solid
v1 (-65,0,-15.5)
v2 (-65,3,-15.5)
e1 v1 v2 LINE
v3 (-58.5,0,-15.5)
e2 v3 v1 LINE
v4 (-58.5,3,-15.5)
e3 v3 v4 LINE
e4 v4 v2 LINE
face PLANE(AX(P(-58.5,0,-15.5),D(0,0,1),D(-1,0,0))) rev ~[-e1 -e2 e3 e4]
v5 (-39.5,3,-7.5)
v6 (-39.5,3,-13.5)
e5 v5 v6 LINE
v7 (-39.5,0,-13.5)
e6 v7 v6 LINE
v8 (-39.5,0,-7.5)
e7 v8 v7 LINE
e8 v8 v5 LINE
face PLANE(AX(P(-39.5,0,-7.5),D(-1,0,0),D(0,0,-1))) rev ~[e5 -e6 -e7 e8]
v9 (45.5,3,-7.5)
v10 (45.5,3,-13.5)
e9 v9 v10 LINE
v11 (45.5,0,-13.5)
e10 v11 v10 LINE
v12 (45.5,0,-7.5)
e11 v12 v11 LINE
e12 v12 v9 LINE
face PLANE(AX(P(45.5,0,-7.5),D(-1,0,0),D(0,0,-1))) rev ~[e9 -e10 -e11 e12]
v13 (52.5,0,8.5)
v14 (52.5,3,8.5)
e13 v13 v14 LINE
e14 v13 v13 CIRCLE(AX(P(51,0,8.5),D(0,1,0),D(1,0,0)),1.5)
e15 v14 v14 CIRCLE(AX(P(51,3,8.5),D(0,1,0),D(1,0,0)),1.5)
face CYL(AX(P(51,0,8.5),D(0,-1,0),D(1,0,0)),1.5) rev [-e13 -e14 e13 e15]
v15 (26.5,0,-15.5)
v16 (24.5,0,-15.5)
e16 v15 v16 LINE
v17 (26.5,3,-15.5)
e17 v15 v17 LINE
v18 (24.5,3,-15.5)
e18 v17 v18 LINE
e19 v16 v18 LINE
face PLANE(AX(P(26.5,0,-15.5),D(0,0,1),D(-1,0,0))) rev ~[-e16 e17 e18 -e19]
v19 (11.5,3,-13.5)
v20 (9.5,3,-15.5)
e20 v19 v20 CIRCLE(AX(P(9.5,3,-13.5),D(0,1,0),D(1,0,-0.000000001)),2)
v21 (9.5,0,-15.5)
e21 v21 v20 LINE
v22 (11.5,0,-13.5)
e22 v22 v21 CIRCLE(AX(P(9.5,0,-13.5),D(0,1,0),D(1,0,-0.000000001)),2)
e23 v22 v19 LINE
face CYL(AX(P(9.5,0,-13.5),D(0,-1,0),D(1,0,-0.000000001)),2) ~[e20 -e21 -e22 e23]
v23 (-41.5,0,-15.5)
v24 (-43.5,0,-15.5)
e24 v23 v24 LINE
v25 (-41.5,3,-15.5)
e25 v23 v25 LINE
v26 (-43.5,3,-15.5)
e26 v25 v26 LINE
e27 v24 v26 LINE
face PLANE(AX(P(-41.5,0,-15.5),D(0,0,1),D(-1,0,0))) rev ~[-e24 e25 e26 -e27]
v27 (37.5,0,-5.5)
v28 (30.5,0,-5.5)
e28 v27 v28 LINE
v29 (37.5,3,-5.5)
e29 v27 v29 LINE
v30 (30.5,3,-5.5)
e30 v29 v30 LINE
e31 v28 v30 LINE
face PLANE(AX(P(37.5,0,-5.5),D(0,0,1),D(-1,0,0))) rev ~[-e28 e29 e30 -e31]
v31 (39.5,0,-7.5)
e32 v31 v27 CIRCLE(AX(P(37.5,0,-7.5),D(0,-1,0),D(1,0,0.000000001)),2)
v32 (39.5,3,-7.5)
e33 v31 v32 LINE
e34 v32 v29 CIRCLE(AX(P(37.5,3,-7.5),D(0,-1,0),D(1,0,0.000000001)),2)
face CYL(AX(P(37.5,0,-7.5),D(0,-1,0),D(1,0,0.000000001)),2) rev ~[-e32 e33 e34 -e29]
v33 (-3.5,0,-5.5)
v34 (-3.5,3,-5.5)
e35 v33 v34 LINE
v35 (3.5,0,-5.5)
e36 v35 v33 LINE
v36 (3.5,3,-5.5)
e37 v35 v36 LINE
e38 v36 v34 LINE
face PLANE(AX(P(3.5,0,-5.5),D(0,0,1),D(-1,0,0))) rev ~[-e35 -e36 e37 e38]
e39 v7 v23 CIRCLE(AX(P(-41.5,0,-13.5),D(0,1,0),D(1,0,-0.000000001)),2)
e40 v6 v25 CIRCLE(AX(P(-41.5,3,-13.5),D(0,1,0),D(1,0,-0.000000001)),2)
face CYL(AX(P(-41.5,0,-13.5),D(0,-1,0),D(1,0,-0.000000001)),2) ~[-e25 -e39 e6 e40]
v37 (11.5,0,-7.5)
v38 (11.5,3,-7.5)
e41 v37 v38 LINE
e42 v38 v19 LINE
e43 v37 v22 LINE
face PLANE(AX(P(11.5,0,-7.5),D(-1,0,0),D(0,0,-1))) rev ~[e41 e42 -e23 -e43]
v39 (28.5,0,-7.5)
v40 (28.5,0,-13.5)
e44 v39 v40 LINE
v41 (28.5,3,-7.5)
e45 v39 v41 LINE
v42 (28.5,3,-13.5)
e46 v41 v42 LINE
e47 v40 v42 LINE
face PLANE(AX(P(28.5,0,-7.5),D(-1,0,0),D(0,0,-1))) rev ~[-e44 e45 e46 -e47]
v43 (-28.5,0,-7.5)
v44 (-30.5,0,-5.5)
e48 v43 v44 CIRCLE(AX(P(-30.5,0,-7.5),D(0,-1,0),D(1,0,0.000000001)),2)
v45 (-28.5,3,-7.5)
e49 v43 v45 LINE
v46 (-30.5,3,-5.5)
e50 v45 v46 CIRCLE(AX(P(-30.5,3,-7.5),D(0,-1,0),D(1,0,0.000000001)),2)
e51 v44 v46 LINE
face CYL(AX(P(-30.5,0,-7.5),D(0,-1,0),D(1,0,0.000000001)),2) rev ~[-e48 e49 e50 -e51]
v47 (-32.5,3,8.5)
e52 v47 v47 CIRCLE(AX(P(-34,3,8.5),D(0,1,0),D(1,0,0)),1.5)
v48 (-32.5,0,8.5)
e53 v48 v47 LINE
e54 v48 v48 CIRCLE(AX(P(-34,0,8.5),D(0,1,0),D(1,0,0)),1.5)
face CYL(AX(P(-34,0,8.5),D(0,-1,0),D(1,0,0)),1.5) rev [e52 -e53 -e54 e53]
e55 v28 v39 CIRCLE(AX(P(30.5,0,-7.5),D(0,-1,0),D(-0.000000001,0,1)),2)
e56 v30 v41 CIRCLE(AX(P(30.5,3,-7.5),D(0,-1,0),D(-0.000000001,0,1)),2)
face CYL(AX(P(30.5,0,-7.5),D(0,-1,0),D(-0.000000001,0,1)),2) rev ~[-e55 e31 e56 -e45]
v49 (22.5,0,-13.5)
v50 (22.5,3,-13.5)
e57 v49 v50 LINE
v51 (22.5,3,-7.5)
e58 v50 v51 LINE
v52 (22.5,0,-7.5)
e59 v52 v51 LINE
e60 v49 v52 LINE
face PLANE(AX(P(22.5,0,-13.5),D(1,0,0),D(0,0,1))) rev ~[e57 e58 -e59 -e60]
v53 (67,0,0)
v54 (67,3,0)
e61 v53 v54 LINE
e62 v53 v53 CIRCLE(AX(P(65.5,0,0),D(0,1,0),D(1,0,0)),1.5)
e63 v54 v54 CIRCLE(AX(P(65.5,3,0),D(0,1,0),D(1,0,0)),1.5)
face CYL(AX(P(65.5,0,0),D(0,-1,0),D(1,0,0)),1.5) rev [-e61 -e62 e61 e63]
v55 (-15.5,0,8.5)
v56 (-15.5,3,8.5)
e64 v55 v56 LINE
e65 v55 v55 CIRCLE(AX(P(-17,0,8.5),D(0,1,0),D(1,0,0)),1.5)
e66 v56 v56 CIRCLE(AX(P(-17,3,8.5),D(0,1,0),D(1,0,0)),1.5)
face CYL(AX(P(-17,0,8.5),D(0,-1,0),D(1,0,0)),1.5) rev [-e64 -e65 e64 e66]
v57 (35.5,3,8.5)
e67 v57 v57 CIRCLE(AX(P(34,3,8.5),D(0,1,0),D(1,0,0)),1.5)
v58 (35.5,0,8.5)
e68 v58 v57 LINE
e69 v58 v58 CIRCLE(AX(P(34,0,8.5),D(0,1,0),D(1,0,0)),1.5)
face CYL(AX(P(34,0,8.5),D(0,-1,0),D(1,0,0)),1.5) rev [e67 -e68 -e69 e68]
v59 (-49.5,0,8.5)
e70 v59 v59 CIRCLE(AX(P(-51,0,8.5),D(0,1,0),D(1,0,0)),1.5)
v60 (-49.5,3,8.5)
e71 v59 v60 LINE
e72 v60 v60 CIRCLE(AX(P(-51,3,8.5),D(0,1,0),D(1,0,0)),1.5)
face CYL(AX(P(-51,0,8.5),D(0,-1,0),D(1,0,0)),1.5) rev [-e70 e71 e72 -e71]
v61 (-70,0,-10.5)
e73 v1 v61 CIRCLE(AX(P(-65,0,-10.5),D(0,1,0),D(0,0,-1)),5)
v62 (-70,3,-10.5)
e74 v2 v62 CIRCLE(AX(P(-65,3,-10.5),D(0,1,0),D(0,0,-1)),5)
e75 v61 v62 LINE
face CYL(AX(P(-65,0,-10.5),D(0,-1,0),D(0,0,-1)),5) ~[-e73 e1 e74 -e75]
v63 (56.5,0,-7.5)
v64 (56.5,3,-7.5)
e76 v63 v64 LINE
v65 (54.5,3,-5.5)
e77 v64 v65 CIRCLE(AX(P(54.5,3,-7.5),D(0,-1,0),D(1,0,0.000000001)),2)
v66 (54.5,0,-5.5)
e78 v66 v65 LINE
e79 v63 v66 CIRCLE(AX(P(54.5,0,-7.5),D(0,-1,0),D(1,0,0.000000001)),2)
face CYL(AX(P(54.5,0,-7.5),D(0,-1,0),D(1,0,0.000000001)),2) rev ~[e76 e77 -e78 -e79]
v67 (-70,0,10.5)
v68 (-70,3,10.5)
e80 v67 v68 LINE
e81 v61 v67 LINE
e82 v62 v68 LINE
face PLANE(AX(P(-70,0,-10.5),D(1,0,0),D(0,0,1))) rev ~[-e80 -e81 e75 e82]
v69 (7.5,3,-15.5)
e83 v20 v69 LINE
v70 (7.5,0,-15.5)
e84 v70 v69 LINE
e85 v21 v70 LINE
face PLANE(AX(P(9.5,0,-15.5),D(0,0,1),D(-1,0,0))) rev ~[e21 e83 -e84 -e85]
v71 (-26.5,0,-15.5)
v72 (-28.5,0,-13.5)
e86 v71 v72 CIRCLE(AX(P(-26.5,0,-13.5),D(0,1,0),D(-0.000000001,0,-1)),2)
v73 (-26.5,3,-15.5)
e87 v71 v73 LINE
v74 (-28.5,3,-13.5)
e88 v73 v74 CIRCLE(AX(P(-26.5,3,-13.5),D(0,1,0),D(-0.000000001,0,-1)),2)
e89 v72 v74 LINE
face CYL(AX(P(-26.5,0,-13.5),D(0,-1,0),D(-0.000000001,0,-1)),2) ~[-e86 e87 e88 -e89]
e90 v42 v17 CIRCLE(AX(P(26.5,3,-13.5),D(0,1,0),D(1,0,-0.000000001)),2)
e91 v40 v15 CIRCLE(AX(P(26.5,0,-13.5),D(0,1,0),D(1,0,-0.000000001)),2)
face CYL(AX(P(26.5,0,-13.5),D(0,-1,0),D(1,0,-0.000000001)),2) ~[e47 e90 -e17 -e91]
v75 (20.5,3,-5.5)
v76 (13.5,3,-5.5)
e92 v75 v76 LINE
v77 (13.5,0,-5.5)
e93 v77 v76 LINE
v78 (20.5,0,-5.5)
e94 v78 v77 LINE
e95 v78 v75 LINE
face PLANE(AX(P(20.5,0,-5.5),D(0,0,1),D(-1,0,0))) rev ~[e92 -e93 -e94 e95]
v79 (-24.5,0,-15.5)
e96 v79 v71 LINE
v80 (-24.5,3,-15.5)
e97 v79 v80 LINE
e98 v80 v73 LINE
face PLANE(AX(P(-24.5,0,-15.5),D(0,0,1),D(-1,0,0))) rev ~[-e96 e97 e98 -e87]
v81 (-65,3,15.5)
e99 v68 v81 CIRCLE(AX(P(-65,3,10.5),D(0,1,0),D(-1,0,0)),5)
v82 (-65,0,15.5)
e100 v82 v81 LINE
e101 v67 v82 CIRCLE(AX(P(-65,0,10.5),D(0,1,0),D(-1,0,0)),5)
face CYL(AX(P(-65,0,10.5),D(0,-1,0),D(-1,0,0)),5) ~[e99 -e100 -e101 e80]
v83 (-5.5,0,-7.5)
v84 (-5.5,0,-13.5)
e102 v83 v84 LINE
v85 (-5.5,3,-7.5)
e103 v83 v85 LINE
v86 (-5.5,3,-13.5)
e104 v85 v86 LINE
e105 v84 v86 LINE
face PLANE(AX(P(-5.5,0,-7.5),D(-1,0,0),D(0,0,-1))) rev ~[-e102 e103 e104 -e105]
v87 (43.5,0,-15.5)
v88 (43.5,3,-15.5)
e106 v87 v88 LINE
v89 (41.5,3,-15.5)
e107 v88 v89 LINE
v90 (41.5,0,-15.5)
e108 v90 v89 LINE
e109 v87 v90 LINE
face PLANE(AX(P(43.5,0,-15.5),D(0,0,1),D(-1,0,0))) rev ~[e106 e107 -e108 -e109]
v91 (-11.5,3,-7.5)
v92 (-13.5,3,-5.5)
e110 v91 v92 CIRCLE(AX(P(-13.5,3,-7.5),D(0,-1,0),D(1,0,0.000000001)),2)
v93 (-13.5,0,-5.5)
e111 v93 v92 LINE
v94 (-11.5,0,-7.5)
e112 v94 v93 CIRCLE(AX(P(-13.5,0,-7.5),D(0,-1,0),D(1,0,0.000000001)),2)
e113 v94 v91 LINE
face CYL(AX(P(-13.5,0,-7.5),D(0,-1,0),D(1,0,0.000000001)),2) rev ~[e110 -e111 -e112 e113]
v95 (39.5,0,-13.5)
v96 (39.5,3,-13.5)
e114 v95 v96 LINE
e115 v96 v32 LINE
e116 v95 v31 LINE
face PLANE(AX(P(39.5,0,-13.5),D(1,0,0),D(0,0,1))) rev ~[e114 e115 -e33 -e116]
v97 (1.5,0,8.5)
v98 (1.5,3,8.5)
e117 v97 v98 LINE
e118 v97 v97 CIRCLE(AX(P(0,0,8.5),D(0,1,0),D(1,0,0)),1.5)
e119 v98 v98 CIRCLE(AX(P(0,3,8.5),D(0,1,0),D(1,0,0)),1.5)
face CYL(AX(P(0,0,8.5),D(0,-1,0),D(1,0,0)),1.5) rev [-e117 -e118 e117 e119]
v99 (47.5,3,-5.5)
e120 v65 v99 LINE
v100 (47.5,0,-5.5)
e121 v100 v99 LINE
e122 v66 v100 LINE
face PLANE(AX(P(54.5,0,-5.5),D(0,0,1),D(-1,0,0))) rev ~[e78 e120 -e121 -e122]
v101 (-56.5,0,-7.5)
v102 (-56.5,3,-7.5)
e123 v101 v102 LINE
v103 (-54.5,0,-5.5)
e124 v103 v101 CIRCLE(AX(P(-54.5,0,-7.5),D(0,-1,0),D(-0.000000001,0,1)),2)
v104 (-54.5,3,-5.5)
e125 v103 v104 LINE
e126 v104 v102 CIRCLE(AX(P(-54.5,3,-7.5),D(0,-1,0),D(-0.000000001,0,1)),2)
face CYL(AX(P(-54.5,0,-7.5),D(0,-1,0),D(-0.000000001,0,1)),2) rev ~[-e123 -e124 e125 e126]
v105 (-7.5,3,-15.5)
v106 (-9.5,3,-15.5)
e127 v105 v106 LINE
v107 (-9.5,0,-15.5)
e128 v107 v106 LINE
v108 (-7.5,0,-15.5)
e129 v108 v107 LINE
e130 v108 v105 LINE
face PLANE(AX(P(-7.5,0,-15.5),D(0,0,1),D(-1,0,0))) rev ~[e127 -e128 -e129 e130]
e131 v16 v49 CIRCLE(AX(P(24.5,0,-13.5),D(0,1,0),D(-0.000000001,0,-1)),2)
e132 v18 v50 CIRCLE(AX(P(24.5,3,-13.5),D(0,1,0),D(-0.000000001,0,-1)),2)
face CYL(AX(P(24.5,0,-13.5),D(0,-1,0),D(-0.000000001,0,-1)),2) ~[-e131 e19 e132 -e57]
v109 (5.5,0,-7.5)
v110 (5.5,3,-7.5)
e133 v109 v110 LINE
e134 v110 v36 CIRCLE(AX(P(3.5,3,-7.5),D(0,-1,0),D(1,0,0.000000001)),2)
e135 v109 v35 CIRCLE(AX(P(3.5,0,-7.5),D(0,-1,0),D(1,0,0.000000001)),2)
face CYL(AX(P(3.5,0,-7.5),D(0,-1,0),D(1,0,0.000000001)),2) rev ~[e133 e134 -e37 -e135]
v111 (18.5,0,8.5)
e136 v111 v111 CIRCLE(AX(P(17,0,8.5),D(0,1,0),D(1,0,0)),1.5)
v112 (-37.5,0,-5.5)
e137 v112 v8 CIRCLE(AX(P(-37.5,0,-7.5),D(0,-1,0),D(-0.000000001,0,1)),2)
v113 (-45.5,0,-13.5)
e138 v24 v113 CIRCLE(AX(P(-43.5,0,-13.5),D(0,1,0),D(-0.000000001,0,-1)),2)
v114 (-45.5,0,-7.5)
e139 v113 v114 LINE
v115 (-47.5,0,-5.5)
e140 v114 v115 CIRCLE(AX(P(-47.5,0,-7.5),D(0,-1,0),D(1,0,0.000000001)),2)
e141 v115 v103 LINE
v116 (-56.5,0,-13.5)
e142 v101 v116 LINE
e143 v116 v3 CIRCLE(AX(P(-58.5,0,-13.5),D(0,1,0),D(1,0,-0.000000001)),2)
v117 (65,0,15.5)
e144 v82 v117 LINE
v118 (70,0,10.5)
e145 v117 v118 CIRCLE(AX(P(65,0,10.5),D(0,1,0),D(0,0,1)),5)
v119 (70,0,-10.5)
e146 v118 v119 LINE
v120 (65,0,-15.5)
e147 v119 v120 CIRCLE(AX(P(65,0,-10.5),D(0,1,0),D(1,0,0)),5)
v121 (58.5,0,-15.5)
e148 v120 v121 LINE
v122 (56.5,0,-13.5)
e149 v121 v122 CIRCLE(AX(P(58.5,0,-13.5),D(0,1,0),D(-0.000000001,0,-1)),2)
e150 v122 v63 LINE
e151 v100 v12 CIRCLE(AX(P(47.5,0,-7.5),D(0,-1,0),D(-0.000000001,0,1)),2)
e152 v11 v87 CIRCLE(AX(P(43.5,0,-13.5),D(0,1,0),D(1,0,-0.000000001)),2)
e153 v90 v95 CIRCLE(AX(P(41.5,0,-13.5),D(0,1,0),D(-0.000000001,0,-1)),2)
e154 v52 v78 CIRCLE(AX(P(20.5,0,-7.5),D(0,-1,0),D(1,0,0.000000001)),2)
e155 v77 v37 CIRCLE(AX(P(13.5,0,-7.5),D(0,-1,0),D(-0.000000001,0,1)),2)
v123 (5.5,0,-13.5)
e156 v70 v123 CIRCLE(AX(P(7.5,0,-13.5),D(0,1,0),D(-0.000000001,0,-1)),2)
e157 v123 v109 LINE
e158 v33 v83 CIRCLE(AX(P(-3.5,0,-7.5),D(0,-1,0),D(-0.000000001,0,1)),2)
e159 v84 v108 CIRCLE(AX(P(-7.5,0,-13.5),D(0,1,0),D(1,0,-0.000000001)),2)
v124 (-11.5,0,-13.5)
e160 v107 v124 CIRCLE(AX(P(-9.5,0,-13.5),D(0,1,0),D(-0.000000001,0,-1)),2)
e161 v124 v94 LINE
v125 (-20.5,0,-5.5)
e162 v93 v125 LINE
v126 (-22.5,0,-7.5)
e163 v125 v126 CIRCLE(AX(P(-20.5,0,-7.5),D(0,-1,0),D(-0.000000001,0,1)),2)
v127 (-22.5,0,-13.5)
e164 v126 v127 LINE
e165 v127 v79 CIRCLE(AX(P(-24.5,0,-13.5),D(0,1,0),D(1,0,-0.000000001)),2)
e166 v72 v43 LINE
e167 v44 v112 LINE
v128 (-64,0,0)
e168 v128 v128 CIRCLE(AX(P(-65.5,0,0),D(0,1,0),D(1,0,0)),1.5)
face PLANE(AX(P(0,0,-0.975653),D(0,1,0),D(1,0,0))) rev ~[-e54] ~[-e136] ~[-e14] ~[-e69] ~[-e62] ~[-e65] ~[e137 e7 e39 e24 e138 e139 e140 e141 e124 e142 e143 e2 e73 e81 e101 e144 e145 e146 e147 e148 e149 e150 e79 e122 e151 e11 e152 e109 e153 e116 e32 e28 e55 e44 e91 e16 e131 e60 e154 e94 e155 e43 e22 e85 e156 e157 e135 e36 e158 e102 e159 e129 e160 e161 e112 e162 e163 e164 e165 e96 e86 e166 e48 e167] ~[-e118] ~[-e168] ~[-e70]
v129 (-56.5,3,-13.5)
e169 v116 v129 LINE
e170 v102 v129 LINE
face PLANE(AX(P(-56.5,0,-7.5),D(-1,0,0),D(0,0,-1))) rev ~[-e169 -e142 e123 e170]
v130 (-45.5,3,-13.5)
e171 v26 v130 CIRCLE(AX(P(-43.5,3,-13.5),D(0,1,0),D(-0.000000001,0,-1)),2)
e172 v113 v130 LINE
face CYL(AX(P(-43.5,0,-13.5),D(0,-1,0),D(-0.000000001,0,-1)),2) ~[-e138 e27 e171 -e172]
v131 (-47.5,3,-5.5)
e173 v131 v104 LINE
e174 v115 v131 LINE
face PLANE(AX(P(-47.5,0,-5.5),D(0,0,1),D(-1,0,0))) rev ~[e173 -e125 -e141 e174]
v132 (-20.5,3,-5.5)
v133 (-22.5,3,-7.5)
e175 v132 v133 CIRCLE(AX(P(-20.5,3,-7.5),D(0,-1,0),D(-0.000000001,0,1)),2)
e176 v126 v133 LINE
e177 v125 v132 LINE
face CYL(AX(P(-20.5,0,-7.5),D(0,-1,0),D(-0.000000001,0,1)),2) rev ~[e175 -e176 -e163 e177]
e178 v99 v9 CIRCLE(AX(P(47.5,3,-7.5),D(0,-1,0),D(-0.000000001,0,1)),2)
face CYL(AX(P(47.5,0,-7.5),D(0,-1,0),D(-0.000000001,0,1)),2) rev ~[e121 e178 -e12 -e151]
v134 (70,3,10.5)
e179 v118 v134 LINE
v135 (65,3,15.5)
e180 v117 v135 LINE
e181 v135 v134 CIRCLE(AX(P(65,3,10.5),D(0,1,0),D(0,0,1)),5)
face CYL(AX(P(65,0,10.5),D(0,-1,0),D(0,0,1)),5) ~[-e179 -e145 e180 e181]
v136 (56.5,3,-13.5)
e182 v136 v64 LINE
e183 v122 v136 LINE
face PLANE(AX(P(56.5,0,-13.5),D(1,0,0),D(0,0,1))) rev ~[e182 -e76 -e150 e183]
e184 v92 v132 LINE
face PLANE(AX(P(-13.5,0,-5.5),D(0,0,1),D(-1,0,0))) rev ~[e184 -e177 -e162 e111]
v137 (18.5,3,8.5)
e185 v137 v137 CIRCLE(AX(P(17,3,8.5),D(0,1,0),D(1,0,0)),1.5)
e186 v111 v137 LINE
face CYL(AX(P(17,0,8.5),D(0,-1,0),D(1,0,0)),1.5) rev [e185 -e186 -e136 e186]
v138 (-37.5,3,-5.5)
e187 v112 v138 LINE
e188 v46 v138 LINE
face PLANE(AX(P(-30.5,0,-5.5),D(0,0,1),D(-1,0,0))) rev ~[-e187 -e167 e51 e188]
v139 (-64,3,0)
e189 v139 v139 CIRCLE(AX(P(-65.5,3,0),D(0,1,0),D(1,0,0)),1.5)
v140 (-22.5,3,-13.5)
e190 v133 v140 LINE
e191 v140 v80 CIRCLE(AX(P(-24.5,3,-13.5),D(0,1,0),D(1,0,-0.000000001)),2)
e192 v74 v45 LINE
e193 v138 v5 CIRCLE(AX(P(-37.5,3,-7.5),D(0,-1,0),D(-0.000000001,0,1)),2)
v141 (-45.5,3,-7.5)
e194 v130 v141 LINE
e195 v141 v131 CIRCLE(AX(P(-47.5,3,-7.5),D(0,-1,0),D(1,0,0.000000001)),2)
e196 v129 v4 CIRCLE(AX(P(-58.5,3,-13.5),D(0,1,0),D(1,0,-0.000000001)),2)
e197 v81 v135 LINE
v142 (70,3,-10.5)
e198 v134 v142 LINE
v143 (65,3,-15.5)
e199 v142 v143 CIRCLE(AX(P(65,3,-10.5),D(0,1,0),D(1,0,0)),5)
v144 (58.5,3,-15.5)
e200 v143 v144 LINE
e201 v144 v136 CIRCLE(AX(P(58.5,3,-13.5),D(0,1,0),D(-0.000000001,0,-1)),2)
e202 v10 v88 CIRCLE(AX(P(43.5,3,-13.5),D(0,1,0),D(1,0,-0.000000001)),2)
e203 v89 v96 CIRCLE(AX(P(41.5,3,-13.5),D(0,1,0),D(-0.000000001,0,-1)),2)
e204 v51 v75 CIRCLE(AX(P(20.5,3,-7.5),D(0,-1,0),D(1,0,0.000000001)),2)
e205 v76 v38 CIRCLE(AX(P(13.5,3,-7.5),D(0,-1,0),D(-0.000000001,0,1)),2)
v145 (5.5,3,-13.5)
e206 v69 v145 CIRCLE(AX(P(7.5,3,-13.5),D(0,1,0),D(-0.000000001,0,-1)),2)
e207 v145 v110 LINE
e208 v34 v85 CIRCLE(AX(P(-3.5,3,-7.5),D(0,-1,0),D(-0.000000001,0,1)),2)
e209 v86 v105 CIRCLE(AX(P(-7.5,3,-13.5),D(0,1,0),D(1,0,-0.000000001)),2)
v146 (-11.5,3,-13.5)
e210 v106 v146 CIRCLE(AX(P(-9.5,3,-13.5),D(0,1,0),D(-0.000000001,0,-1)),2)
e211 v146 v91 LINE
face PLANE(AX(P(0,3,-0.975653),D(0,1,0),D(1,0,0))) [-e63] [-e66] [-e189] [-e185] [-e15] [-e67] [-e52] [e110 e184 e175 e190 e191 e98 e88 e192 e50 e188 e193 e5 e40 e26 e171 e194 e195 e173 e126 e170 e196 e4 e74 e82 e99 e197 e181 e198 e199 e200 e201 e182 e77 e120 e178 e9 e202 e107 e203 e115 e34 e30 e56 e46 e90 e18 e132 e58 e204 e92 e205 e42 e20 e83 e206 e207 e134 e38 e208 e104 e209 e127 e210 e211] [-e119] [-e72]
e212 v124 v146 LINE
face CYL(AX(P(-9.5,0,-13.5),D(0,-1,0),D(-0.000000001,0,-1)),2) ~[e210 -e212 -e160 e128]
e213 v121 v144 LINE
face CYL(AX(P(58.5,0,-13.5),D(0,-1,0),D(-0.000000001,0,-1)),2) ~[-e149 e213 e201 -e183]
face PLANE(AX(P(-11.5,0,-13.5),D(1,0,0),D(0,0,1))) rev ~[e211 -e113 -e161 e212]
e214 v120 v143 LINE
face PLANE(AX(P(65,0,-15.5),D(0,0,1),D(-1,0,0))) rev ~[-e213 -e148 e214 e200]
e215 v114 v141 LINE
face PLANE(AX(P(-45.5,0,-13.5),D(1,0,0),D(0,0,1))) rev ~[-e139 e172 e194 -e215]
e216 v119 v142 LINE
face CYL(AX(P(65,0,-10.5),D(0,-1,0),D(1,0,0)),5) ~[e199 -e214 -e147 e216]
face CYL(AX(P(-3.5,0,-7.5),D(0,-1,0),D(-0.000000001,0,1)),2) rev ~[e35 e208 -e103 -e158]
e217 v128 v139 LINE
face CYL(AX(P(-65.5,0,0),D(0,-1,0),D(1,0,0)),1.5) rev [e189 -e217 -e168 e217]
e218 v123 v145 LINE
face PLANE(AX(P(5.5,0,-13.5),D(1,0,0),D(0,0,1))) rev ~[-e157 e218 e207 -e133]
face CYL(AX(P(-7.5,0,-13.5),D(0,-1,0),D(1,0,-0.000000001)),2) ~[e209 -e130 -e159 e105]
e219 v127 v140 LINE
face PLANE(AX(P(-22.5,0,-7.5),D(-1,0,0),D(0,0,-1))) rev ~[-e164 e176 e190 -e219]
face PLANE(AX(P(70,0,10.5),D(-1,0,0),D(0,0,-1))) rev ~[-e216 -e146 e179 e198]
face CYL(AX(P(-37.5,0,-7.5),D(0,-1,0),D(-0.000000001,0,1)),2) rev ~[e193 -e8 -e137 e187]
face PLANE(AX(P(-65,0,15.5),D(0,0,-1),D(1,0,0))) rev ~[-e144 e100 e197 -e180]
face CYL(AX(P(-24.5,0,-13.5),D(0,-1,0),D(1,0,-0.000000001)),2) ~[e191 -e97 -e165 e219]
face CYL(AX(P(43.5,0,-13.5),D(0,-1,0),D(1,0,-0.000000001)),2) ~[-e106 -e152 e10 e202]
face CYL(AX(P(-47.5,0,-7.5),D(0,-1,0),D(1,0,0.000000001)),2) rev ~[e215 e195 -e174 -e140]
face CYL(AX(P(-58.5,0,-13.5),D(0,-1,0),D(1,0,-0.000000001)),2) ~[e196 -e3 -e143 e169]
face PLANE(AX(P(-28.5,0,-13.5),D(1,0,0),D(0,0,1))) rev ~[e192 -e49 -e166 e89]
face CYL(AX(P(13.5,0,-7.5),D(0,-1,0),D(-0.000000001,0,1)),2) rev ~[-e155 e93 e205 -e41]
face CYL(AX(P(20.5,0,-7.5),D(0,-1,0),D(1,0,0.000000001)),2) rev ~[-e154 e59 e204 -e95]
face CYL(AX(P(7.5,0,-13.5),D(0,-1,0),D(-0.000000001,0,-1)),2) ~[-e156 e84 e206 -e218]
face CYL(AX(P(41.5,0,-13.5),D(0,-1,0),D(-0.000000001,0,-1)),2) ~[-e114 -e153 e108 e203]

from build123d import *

# Parameters (mm, degrees)
SKETCH1_R           = 1.5
BOSS_EXTRUDE1_DEPTH = 3


with BuildPart() as part:
    # Sketch1 → Boss-Extrude1 (new body)
    with BuildSketch(Plane(origin=(0, 0, 0), x_dir=(1, 0, 0), z_dir=(0, 1, 0))):
        with BuildLine():
            Line((65, 15.5), (58.5, 15.5))
            ThreePointArc((58.5, 15.5), (57.085786438, 14.914213562), (56.5, 13.5))
            Line((56.5, 13.5), (56.5, 7.5))
            ThreePointArc((56.5, 7.5), (55.914213562, 6.085786438), (54.5, 5.5))
            Line((54.5, 5.5), (47.5, 5.5))
            ThreePointArc((47.5, 5.5), (46.085786438, 6.085786438), (45.5, 7.5))
            Line((45.5, 7.5), (45.5, 13.5))
            ThreePointArc((45.5, 13.5), (44.914213562, 14.914213562), (43.5, 15.5))
            Line((43.5, 15.5), (41.5, 15.5))
            ThreePointArc((41.5, 15.5), (40.085786438, 14.914213562), (39.5, 13.5))
            Line((39.5, 13.5), (39.5, 7.5))
            ThreePointArc((39.5, 7.5), (38.914213562, 6.085786438), (37.5, 5.5))
            Line((37.5, 5.5), (30.5, 5.5))
            ThreePointArc((30.5, 5.5), (29.085786438, 6.085786438), (28.5, 7.5))
            Line((28.5, 7.5), (28.5, 13.5))
            ThreePointArc((28.5, 13.5), (27.914213562, 14.914213562), (26.5, 15.5))
            Line((26.5, 15.5), (24.5, 15.5))
            ThreePointArc((24.5, 15.5), (23.085786438, 14.914213562), (22.5, 13.5))
            Line((22.5, 13.5), (22.5, 7.5))
            ThreePointArc((22.5, 7.5), (21.914213562, 6.085786438), (20.5, 5.5))
            Line((20.5, 5.5), (13.5, 5.5))
            ThreePointArc((13.5, 5.5), (12.085786438, 6.085786438), (11.5, 7.5))
            Line((11.5, 7.5), (11.5, 13.5))
            ThreePointArc((11.5, 13.5), (10.914213562, 14.914213562), (9.5, 15.5))
            Line((9.5, 15.5), (7.5, 15.5))
            ThreePointArc((7.5, 15.5), (6.085786438, 14.914213562), (5.5, 13.5))
            Line((5.5, 13.5), (5.5, 7.5))
            ThreePointArc((5.5, 7.5), (4.914213562, 6.085786438), (3.5, 5.5))
            Line((3.5, 5.5), (-3.5, 5.5))
            ThreePointArc((-3.5, 5.5), (-4.914213562, 6.085786438), (-5.5, 7.5))
            Line((-5.5, 7.5), (-5.5, 13.5))
            ThreePointArc((-5.5, 13.5), (-6.085786438, 14.914213562), (-7.5, 15.5))
            Line((-7.5, 15.5), (-9.5, 15.5))
            ThreePointArc((-9.5, 15.5), (-10.914213562, 14.914213562), (-11.5, 13.5))
            Line((-11.5, 13.5), (-11.5, 7.5))
            ThreePointArc((-11.5, 7.5), (-12.085786438, 6.085786438), (-13.5, 5.5))
            Line((-13.5, 5.5), (-20.5, 5.5))
            ThreePointArc((-20.5, 5.5), (-21.914213562, 6.085786438), (-22.5, 7.5))
            Line((-22.5, 7.5), (-22.5, 13.5))
            ThreePointArc((-22.5, 13.5), (-23.085786438, 14.914213562), (-24.5, 15.5))
            Line((-24.5, 15.5), (-26.5, 15.5))
            ThreePointArc((-26.5, 15.5), (-27.914213562, 14.914213562), (-28.5, 13.5))
            Line((-28.5, 13.5), (-28.5, 7.5))
            ThreePointArc((-28.5, 7.5), (-29.085786438, 6.085786438), (-30.5, 5.5))
            Line((-30.5, 5.5), (-37.5, 5.5))
            ThreePointArc((-37.5, 5.5), (-38.914213562, 6.085786438), (-39.5, 7.5))
            Line((-39.5, 7.5), (-39.5, 13.5))
            ThreePointArc((-39.5, 13.5), (-40.085786438, 14.914213562), (-41.5, 15.5))
            Line((-41.5, 15.5), (-43.5, 15.5))
            ThreePointArc((-43.5, 15.5), (-44.914213562, 14.914213562), (-45.5, 13.5))
            Line((-45.5, 13.5), (-45.5, 7.5))
            ThreePointArc((-45.5, 7.5), (-46.085786438, 6.085786438), (-47.5, 5.5))
            Line((-47.5, 5.5), (-54.5, 5.5))
            ThreePointArc((-54.5, 5.5), (-55.914213562, 6.085786438), (-56.5, 7.5))
            Line((-56.5, 7.5), (-56.5, 13.5))
            ThreePointArc((-56.5, 13.5), (-57.085786438, 14.914213562), (-58.5, 15.5))
            Line((-58.5, 15.5), (-65, 15.5))
            ThreePointArc((-65, 15.5), (-68.535533906, 14.035533906), (-70, 10.5))
            Line((-70, 10.5), (-70, -10.5))
            ThreePointArc((-70, -10.5), (-68.535533906, -14.035533906), (-65, -15.5))
            Line((-65, -15.5), (65, -15.5))
            ThreePointArc((65, -15.5), (68.535533906, -14.035533906), (70, -10.5))
            Line((70, -10.5), (70, 10.5))
            ThreePointArc((70, 10.5), (68.535533906, 14.035533906), (65, 15.5))
        make_face()
        with Locations((-65.5, 0)):
            Circle(SKETCH1_R, mode=Mode.SUBTRACT)
        with Locations((65.5, 0)):
            Circle(SKETCH1_R, mode=Mode.SUBTRACT)
        with Locations((-51, -8.5)):
            Circle(SKETCH1_R, mode=Mode.SUBTRACT)
        with Locations((-34, -8.5)):
            Circle(SKETCH1_R, mode=Mode.SUBTRACT)
        with Locations((-17, -8.5)):
            Circle(SKETCH1_R, mode=Mode.SUBTRACT)
        with Locations((0, -8.5)):
            Circle(SKETCH1_R, mode=Mode.SUBTRACT)
        with Locations((17, -8.5)):
            Circle(SKETCH1_R, mode=Mode.SUBTRACT)
        with Locations((34, -8.5)):
            Circle(SKETCH1_R, mode=Mode.SUBTRACT)
        with Locations((51, -8.5)):
            Circle(SKETCH1_R, mode=Mode.SUBTRACT)
    extrude(amount=BOSS_EXTRUDE1_DEPTH)


solid = part.part
